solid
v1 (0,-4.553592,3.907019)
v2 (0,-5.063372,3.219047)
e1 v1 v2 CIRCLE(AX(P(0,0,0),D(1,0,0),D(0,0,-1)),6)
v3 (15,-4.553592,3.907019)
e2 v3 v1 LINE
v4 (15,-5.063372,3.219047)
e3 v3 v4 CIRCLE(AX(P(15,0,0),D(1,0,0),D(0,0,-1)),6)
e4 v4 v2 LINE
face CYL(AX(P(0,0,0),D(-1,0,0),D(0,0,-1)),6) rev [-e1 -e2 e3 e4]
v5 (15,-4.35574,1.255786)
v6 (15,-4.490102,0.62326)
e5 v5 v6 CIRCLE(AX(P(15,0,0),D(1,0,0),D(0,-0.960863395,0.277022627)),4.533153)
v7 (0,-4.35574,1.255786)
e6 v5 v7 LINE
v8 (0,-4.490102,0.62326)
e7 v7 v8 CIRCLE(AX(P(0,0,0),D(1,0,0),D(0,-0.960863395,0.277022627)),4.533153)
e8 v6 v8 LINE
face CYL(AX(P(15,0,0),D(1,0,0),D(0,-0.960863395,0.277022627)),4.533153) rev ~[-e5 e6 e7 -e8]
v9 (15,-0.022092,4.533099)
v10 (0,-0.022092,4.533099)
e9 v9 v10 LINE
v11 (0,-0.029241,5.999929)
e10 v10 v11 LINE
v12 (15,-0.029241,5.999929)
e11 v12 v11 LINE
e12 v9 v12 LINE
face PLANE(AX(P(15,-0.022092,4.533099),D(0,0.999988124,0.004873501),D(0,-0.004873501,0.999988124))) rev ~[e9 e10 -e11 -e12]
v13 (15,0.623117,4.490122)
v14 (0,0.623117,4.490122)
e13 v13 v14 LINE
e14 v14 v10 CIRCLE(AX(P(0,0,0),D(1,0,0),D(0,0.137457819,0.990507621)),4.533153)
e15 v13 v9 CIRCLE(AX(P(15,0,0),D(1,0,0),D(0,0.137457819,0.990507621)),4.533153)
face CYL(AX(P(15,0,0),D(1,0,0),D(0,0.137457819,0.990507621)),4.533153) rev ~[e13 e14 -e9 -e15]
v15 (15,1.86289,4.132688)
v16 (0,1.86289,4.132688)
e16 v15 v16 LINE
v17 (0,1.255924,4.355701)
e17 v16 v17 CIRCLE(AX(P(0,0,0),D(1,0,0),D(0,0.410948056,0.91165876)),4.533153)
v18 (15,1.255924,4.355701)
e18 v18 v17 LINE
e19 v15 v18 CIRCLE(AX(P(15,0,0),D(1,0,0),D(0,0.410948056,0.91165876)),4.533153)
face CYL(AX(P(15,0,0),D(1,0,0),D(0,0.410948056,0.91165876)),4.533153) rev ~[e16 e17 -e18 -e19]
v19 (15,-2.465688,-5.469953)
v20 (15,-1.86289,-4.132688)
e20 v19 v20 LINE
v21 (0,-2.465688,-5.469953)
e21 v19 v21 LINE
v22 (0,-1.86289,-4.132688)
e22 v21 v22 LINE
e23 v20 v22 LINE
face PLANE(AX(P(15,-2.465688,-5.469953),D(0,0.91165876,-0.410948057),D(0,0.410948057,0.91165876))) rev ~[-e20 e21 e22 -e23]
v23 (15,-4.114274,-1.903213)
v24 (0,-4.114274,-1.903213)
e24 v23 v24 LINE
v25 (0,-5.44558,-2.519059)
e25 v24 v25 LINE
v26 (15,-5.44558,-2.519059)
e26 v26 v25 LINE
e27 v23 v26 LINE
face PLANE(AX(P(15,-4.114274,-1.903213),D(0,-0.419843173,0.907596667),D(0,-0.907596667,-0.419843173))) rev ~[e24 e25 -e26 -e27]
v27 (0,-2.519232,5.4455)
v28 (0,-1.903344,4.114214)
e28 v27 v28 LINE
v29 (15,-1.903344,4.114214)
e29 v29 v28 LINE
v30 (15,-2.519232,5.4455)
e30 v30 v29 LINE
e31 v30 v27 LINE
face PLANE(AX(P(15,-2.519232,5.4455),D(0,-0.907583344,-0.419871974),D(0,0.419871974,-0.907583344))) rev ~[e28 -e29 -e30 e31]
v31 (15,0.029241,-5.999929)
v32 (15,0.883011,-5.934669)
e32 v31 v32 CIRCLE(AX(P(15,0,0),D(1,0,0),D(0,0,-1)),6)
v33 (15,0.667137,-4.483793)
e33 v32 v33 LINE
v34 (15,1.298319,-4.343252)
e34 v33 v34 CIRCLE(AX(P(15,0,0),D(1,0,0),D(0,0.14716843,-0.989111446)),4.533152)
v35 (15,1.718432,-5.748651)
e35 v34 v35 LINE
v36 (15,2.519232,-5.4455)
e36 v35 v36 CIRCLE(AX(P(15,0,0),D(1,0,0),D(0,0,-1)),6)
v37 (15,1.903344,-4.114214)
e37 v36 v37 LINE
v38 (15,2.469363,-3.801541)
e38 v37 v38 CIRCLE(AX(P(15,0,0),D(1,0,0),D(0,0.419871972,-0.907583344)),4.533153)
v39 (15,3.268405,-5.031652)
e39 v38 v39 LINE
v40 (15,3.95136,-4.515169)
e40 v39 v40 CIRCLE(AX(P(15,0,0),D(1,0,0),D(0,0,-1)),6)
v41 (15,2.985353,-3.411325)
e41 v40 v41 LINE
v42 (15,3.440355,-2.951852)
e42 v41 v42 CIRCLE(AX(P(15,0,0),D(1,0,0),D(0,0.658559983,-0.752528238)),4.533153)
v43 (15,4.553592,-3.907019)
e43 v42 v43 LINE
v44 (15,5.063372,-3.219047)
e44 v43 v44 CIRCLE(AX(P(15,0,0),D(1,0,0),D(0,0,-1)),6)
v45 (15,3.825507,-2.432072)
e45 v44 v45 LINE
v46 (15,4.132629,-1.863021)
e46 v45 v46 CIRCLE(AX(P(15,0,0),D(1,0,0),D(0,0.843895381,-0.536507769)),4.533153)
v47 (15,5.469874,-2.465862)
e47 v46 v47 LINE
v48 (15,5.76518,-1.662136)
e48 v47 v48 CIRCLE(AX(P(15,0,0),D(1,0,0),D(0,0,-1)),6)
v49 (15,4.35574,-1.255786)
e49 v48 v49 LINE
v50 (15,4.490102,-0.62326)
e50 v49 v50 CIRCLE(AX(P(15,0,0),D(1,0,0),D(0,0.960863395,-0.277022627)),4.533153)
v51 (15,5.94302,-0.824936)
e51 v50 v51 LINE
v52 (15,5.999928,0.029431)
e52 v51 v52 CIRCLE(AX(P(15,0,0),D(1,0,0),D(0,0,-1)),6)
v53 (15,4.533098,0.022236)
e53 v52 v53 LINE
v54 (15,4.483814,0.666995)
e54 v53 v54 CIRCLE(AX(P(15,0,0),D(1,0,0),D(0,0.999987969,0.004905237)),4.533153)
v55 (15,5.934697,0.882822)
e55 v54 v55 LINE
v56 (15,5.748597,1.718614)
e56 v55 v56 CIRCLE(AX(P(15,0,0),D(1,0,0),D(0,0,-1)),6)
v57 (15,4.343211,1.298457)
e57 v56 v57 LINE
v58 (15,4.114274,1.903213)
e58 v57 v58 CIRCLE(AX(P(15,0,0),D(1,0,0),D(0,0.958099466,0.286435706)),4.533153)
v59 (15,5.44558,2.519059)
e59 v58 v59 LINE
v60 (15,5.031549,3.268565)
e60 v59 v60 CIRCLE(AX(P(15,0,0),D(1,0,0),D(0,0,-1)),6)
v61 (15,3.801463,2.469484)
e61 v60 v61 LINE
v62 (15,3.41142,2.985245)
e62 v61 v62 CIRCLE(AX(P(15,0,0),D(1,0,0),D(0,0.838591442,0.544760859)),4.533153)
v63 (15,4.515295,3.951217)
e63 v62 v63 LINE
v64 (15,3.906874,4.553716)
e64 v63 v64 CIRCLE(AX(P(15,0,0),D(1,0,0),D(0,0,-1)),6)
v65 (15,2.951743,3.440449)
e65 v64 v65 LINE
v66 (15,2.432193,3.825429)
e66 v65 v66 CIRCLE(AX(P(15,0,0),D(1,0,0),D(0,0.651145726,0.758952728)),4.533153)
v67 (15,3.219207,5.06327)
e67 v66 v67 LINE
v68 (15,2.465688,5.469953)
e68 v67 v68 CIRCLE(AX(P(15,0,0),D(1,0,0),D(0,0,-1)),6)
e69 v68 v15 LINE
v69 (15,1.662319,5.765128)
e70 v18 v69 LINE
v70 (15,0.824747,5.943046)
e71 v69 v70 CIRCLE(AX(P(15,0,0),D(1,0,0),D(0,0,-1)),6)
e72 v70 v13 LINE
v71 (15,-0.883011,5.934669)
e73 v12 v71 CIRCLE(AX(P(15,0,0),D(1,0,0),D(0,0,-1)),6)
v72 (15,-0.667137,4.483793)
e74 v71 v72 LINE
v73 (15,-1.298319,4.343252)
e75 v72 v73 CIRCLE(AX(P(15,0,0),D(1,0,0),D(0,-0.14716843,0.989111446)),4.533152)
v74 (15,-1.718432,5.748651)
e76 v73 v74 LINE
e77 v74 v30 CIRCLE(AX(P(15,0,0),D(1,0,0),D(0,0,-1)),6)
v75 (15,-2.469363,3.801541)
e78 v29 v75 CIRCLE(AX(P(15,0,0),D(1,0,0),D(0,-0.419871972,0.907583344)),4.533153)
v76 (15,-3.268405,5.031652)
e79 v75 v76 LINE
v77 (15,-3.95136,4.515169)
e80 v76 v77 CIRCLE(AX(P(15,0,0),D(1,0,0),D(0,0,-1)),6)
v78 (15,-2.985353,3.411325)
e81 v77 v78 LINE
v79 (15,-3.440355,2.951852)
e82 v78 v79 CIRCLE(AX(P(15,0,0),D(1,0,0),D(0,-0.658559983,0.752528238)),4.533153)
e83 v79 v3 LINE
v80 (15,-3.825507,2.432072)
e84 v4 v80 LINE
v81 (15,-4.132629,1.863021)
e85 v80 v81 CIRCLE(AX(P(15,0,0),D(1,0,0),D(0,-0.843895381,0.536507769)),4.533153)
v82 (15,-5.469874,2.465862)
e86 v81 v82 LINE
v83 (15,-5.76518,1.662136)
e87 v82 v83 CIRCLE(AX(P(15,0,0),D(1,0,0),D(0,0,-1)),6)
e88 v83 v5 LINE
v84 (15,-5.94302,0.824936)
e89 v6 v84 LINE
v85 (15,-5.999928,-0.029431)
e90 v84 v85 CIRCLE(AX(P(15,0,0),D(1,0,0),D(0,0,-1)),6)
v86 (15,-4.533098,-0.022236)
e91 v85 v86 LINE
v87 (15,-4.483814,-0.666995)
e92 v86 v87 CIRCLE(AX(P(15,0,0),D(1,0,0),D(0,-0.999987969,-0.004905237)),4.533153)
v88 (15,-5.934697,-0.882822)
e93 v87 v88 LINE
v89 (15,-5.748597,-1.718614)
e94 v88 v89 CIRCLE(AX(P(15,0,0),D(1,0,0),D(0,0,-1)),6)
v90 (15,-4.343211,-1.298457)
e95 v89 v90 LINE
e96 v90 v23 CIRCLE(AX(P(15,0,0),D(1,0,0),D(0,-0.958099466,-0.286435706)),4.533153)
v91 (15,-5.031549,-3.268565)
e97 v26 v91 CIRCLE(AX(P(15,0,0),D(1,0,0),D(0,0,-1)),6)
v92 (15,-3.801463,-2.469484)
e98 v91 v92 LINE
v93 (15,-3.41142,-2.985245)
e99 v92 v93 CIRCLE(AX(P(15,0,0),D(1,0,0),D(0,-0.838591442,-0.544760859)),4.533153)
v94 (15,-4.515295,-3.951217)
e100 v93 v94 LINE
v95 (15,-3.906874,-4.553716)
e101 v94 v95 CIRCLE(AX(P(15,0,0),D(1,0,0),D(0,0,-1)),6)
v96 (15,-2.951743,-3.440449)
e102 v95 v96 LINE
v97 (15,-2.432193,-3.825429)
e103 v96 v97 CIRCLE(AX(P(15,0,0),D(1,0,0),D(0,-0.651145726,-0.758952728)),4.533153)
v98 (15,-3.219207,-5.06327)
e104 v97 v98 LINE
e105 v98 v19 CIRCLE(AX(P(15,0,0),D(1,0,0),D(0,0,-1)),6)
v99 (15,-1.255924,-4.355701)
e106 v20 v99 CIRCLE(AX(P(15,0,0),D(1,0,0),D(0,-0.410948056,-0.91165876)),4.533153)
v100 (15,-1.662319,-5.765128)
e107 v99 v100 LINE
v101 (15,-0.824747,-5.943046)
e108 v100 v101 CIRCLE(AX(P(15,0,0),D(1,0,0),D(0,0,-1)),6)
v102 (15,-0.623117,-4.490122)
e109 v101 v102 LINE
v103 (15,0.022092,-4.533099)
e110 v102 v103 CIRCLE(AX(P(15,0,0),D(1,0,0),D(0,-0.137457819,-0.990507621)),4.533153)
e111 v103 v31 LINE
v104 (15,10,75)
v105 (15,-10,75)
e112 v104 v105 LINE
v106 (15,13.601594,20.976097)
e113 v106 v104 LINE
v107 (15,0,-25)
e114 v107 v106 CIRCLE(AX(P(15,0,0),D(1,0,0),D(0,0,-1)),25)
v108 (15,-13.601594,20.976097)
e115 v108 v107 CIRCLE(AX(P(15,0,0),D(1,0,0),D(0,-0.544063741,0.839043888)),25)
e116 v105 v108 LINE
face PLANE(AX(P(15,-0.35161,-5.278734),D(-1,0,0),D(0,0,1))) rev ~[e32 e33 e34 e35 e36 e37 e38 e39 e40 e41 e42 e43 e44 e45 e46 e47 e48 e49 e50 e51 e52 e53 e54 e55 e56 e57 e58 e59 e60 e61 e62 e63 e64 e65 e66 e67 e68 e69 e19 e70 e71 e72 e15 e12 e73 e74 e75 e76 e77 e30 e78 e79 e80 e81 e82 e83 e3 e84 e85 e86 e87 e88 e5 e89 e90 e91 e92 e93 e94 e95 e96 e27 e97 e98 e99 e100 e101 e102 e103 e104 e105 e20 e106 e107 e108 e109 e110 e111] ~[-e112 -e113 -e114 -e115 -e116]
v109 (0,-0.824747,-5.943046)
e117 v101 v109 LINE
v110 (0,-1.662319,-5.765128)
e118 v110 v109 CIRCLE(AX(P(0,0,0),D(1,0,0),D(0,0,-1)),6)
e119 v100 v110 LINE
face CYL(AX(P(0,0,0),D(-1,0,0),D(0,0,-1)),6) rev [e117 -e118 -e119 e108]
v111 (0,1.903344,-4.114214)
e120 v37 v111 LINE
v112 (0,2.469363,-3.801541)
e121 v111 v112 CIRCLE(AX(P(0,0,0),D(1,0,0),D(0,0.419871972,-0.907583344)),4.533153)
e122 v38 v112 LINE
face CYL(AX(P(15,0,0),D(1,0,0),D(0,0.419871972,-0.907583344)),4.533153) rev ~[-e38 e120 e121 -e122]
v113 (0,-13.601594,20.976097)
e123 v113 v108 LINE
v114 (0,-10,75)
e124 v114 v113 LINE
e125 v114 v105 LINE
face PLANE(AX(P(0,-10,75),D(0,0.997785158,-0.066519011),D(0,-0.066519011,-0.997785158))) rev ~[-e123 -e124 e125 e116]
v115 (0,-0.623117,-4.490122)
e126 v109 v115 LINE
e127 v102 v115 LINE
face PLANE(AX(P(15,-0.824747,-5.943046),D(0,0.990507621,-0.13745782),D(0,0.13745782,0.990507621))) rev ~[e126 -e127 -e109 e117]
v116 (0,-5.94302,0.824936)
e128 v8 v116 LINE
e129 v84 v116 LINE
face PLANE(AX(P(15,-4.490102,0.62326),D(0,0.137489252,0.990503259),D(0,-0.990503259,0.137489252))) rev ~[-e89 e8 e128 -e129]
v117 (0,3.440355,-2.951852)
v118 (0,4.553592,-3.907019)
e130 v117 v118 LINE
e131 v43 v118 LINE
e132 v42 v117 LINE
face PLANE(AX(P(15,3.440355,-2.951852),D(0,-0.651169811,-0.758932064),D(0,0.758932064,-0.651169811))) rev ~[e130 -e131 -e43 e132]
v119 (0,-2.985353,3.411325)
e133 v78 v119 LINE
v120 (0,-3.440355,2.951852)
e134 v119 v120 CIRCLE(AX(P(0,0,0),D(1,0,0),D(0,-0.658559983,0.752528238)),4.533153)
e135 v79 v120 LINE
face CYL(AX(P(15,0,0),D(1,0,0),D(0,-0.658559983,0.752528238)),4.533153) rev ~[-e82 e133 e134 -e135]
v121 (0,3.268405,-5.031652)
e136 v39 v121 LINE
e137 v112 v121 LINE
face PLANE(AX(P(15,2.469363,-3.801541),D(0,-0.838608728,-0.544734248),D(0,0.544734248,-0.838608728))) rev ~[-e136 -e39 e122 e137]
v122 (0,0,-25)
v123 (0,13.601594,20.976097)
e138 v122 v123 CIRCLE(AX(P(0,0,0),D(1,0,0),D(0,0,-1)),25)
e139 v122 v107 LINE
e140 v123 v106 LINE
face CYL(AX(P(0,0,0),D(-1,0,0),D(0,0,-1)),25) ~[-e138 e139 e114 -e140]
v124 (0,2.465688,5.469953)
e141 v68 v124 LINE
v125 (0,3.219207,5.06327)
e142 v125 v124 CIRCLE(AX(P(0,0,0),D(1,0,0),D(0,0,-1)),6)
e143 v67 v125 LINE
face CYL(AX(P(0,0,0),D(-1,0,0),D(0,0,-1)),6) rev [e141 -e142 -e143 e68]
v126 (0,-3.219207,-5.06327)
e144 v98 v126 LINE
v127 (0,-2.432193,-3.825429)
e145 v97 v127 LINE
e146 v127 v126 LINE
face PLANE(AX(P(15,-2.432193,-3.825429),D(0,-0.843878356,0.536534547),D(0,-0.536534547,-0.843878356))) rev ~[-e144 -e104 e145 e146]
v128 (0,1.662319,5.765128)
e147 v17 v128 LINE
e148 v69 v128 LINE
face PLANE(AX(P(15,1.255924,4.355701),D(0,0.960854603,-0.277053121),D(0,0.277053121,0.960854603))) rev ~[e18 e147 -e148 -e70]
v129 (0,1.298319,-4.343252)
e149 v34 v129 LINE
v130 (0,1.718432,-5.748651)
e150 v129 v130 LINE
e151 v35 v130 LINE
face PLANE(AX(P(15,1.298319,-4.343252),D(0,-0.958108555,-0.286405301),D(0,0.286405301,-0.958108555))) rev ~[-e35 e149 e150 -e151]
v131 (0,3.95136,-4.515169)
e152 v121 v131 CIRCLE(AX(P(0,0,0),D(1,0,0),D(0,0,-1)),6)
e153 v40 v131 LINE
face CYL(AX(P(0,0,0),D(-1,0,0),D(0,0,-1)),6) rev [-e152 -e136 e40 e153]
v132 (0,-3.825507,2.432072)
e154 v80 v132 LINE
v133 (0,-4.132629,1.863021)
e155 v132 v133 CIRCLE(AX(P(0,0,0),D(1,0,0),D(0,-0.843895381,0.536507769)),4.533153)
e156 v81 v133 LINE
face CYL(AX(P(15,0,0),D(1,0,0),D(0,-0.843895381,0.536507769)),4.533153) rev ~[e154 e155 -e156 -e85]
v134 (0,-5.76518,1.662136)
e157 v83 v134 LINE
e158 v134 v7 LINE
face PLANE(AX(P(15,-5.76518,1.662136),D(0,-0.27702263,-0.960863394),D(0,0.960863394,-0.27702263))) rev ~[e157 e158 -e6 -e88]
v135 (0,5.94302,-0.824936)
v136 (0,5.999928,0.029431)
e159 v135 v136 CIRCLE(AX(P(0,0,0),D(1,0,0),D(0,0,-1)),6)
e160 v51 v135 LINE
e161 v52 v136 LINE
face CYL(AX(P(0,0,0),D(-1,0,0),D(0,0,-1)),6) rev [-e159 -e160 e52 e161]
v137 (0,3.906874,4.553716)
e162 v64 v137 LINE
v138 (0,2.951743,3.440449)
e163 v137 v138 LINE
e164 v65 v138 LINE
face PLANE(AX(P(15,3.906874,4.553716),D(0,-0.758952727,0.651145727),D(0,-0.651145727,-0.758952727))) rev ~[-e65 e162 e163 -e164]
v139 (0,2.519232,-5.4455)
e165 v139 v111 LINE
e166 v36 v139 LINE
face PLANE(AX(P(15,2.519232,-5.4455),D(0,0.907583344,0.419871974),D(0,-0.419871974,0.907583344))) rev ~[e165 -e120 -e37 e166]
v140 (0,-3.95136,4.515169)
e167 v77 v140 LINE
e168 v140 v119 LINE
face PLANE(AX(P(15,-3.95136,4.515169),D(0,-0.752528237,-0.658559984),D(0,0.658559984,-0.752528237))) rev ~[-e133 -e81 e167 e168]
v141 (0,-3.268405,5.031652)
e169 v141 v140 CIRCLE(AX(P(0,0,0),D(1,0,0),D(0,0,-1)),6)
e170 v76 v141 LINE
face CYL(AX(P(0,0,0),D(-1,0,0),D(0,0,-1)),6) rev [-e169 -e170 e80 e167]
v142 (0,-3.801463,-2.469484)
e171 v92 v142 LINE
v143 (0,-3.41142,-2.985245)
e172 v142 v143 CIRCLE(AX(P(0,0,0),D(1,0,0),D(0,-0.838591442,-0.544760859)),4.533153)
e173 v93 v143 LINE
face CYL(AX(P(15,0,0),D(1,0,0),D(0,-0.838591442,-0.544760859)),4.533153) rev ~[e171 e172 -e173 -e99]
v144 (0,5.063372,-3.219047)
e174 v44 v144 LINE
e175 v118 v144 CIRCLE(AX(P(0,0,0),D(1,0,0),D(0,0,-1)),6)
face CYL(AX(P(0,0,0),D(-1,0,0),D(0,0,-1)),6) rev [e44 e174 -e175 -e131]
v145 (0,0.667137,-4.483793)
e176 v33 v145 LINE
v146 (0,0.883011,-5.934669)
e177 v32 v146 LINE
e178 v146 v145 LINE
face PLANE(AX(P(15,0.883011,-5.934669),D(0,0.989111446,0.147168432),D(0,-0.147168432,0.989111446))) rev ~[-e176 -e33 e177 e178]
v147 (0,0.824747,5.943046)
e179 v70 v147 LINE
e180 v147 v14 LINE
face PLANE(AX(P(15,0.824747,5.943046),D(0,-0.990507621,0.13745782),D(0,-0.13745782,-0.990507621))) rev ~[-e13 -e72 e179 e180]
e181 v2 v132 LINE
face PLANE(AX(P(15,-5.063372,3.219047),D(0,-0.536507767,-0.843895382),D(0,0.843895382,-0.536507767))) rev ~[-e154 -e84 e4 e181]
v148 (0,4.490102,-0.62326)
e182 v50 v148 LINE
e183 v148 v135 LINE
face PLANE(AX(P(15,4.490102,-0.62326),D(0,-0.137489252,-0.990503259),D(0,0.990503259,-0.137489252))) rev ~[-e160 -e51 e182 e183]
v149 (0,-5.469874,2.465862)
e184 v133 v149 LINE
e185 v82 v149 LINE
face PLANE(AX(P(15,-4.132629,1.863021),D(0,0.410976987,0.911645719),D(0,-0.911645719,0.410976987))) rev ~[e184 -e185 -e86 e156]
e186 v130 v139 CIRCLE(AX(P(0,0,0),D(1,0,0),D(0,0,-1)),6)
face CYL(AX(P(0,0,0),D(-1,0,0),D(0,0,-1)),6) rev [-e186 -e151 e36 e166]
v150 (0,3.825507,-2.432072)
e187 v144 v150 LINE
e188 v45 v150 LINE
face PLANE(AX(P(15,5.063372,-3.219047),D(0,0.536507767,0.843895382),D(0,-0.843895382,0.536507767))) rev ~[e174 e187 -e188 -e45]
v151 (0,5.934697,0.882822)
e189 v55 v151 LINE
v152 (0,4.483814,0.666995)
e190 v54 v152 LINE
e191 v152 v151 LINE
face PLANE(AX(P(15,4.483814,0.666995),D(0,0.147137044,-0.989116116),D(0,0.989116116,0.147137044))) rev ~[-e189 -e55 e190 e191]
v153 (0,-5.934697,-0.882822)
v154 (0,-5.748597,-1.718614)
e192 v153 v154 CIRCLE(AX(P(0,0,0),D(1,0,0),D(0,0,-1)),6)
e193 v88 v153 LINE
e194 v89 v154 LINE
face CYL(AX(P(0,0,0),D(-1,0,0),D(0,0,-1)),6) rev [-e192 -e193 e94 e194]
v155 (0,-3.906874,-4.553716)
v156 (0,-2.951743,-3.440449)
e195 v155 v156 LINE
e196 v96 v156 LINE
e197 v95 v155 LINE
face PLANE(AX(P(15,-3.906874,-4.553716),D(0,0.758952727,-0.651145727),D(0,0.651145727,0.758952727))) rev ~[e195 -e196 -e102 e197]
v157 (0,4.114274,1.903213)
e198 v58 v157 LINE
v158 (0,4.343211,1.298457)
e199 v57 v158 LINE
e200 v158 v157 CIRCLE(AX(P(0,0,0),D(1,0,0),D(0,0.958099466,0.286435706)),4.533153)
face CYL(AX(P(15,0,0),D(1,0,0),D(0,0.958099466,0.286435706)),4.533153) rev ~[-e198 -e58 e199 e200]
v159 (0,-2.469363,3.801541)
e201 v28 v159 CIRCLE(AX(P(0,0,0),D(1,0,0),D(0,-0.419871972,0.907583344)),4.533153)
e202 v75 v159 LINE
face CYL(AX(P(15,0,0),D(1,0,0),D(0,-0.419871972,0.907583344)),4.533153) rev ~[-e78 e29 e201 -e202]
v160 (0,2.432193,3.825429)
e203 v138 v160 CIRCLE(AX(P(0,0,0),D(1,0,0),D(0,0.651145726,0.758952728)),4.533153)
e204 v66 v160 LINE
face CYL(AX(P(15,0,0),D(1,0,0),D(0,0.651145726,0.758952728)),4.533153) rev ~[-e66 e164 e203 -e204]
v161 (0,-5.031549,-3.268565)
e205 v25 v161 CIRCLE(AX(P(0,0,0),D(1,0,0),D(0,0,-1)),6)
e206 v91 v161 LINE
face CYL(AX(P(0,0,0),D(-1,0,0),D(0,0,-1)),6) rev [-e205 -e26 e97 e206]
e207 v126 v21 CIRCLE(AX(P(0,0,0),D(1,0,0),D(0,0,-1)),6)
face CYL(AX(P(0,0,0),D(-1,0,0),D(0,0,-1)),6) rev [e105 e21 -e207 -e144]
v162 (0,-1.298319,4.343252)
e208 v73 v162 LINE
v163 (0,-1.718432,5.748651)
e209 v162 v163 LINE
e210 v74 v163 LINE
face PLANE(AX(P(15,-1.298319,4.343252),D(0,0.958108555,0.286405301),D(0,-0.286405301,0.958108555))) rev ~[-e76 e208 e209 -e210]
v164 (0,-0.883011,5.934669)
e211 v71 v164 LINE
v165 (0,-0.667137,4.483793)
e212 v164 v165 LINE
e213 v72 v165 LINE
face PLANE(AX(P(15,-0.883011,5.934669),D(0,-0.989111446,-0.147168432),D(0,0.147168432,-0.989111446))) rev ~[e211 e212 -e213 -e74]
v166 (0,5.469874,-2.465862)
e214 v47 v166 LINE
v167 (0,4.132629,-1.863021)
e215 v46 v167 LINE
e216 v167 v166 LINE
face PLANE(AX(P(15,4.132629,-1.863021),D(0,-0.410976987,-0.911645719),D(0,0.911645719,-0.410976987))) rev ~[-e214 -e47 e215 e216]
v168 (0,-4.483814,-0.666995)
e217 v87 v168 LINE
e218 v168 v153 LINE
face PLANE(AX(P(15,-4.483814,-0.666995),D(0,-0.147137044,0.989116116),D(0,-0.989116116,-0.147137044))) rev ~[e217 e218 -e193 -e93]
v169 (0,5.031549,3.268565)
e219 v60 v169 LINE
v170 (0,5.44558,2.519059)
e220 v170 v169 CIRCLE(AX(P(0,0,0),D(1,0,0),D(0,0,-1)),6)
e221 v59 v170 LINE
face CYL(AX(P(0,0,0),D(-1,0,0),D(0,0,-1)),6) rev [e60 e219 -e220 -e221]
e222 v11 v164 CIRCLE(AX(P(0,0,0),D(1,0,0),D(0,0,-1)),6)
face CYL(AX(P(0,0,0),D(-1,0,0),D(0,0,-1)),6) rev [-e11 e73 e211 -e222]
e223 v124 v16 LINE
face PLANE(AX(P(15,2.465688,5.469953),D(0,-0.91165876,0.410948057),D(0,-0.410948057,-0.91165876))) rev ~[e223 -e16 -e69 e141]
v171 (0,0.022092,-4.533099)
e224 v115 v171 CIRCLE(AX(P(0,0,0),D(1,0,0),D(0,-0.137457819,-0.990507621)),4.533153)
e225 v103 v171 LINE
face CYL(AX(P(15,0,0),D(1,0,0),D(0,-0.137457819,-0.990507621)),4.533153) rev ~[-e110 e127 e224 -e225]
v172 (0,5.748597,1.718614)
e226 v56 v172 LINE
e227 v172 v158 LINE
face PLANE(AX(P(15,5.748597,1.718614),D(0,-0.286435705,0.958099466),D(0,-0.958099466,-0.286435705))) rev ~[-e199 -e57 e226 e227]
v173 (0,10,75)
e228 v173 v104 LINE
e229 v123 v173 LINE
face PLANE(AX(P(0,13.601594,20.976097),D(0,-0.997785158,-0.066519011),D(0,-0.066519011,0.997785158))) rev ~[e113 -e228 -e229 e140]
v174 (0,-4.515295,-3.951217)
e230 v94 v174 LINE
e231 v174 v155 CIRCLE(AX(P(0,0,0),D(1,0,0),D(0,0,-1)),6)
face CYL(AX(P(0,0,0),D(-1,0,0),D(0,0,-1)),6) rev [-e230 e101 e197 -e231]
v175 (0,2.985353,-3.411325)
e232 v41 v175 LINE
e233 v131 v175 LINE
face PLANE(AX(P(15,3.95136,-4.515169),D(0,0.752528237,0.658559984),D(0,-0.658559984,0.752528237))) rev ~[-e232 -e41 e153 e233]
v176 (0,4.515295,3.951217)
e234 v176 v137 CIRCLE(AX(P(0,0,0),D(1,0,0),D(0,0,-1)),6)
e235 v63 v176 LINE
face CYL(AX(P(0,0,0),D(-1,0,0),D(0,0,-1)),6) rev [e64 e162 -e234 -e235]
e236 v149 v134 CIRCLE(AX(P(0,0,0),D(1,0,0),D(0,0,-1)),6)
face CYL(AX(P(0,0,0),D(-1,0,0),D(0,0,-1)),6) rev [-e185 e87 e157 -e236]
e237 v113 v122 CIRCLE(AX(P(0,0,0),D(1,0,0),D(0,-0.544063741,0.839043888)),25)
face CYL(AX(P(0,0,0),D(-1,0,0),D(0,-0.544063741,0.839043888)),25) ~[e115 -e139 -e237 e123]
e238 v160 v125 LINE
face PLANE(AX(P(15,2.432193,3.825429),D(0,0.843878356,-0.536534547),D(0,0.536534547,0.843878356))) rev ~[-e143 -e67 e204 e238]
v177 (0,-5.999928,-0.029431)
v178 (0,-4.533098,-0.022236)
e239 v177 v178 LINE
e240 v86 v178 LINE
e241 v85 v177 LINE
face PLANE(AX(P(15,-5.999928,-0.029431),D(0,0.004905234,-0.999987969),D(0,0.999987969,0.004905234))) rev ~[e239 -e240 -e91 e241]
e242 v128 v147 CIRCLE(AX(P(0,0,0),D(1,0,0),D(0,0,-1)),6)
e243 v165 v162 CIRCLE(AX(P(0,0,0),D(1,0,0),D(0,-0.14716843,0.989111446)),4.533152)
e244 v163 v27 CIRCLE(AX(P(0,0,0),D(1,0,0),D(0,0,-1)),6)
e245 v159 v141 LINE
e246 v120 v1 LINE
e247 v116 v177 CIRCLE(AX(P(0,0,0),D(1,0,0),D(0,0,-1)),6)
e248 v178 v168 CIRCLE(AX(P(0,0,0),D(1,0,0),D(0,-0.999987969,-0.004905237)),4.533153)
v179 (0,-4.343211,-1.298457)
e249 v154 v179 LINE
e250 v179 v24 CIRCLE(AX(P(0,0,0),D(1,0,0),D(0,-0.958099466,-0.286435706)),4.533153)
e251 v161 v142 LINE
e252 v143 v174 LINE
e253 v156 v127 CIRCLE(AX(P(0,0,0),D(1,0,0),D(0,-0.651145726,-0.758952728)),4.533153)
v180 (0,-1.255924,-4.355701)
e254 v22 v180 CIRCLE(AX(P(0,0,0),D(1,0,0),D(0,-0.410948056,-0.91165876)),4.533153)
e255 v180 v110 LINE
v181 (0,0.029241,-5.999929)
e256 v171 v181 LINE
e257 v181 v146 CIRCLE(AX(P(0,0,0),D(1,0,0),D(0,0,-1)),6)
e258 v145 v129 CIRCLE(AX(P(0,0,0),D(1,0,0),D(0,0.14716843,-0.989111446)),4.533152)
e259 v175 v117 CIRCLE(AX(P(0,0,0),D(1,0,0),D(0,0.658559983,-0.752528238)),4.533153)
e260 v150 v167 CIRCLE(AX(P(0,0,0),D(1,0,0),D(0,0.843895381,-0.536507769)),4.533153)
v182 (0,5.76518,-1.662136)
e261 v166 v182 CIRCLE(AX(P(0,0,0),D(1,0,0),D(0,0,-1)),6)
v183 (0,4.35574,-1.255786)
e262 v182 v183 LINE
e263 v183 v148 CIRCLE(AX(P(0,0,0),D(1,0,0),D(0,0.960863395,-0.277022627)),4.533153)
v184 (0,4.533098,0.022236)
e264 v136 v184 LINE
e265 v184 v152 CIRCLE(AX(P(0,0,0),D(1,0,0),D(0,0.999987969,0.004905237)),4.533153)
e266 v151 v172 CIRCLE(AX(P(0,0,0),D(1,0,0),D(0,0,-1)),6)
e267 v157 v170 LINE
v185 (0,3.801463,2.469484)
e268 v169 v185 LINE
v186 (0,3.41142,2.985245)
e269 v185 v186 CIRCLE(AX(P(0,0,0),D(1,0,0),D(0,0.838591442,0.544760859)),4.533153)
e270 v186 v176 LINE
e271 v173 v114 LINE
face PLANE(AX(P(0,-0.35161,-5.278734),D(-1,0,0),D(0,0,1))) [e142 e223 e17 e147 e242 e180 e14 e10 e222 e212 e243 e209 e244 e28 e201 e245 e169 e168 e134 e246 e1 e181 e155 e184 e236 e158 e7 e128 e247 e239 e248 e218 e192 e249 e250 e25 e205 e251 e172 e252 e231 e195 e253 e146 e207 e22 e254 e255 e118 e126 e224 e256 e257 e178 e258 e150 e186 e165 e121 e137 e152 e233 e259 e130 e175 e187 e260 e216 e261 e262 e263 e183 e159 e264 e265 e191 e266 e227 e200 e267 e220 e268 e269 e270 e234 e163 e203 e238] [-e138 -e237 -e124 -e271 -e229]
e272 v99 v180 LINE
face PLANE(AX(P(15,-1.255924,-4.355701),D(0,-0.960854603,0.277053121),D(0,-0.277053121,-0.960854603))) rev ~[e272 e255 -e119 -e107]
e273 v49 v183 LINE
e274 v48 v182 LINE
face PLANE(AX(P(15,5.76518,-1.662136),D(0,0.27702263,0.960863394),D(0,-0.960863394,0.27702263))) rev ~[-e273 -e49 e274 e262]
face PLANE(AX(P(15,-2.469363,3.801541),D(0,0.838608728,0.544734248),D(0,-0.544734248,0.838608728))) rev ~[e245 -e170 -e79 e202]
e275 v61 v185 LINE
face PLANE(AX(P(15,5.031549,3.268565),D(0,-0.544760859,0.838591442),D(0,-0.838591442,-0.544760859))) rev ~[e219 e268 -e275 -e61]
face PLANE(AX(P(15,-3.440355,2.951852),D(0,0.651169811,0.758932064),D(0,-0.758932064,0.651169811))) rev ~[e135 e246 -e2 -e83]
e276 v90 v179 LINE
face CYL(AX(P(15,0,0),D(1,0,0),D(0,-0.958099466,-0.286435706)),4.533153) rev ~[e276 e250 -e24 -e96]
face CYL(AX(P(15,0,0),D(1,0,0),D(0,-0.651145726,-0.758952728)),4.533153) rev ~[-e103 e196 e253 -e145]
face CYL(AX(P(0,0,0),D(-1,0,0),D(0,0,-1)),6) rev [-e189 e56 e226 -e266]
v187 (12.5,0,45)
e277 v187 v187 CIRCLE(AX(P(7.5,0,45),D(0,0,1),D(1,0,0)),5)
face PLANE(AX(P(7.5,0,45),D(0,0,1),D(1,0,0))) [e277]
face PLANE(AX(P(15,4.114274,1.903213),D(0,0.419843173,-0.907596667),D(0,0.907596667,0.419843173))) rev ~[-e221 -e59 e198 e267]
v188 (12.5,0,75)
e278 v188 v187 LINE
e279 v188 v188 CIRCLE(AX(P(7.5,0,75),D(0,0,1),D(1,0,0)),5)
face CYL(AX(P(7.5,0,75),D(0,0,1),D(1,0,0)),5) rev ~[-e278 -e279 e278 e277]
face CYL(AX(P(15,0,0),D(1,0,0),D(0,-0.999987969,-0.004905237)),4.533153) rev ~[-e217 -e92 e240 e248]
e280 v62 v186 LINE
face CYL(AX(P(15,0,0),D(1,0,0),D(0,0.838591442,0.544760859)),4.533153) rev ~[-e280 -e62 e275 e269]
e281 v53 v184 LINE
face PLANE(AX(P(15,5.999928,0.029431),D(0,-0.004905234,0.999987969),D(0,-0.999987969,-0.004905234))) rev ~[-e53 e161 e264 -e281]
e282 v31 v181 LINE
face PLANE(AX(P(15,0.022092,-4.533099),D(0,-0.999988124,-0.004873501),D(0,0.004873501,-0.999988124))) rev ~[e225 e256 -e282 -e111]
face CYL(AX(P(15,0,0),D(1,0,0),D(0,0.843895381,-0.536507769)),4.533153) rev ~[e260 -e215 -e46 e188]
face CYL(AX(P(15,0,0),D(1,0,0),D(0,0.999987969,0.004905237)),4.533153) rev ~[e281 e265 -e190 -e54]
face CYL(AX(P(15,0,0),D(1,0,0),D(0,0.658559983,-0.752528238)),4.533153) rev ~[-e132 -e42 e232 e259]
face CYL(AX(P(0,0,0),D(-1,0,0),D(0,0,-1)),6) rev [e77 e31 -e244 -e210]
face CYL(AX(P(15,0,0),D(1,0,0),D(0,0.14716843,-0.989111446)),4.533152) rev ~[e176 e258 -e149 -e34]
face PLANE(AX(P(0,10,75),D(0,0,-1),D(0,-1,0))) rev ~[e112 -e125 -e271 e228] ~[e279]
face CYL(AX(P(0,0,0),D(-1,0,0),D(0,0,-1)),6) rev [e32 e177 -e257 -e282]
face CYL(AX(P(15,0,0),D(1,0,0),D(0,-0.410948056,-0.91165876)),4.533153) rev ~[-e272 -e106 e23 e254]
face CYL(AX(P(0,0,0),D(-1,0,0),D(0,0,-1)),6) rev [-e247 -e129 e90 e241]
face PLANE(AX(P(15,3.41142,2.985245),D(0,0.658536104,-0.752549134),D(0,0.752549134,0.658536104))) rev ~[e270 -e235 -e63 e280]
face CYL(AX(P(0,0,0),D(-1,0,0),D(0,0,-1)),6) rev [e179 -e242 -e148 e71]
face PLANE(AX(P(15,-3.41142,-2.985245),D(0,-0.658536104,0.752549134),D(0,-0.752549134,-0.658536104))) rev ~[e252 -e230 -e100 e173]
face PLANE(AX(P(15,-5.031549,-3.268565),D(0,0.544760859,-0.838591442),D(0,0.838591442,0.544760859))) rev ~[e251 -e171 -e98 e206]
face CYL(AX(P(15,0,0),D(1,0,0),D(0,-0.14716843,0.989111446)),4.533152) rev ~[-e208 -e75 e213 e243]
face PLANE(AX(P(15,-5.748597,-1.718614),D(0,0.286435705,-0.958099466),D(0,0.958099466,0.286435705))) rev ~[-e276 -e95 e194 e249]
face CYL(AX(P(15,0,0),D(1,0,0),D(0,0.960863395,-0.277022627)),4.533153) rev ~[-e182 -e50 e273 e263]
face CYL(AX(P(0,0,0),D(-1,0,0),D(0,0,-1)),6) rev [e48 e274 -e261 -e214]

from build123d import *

# Parameters (mm, degrees)
SKETCH1_R           = 6
BOSS_EXTRUDE1_DEPTH = 15
SKETCH2_R           = 5
CUT_EXTRUDE1_DEPTH  = 30
BOSS_EXTRUDE2_DEPTH = 15


with BuildPart() as part:
    # Sketch1 → Boss-Extrude1 (new body)
    with BuildSketch(Plane(origin=(0, 0, 0), x_dir=(0, 0, -1), z_dir=(1, 0, 0))):
        with BuildLine():
            ThreePointArc((25, 0), (7.092163634, 23.972926709), (-20.976097199, 13.60159352))
            ThreePointArc((-20.976097199, 13.60159352), (-25, 0), (-20.976097199, -13.60159352))
            ThreePointArc((-20.976097199, -13.60159352), (7.092163634, -23.972926709), (25, 0))
        make_face()
        Circle(SKETCH1_R, mode=Mode.SUBTRACT)
        with BuildLine():
            ThreePointArc((-20.976097199, -13.60159352), (-25, 0), (-20.976097199, 13.60159352))
            Line((-20.976097199, 13.60159352), (-75, 10))
            Line((-75, 10), (-75, -10))
            Line((-75, -10), (-20.976097199, -13.60159352))
        make_face()
    extrude(amount=BOSS_EXTRUDE1_DEPTH)

    # Sketch2 → Cut-Extrude1 (cut)
    with BuildSketch(Plane.XY.offset(75)):
        with Locations((7.5, 0)):
            Circle(SKETCH2_R)
    extrude(amount=-CUT_EXTRUDE1_DEPTH, mode=Mode.SUBTRACT)

    # Sketch4 → Boss-Extrude2 (add)
    with BuildSketch(Plane(origin=(15, 0, 0), x_dir=(0, 0, -1), z_dir=(1, 0, 0))):
        with BuildLine():
            Line((0.623259764, 4.490102446), (0.824935512, 5.943019552))
            ThreePointArc((0.824935512, 5.943019552), (1.24671071, 5.869046976), (1.662135778, 5.765180366))
            Line((1.662135778, 5.765180366), (1.25578586, 4.355740418))
            ThreePointArc((1.25578586, 4.355740418), (0.941921654, 4.434214283), (0.623259764, 4.490102446))
        make_face()
        with BuildLine():
            Line((1.863021407, 4.132629181), (2.465861922, 5.469874312))
            ThreePointArc((2.465861922, 5.469874312), (2.849711777, 5.280070339), (3.219046605, 5.063372291))
            Line((3.219046605, 5.063372291), (2.432071594, 3.825506564))
            ThreePointArc((2.432071594, 3.825506564), (2.153029737, 3.989227452), (1.863021407, 4.132629181))
        make_face()
        with BuildLine():
            Line((2.951852135, 3.440354878), (3.907018863, 4.553592384))
            ThreePointArc((3.907018863, 4.553592384), (4.221846144, 4.263333806), (4.515169421, 3.951359905))
            Line((4.515169421, 3.951359905), (3.411325351, 2.98535292))
            ThreePointArc((3.411325351, 2.98535292), (3.189712154, 3.221057138), (2.951852135, 3.440354878))
        make_face()
        with BuildLine():
            Line((3.801541359, 2.469363482), (5.031652372, 3.268405484))
            ThreePointArc((5.031652372, 3.268405484), (5.251951644, 2.901207322), (5.445500063, 2.51923184))
            Line((5.445500063, 2.51923184), (4.114213817, 1.903343737))
            ThreePointArc((4.114213817, 1.903343737), (3.967983063, 2.191935931), (3.801541359, 2.469363482))
        make_face()
        with BuildLine():
            Line((4.34325231, 1.298318944), (5.74865133, 1.718431809))
            ThreePointArc((5.74865133, 1.718431809), (5.856575257, 1.304042275), (5.934668676, 0.883010593))
            Line((5.934668676, 0.883010593), (4.483793147, 0.667136964))
            ThreePointArc((4.483793147, 0.667136964), (4.424791583, 0.98523711), (4.34325231, 1.298318944))
        make_face()
        with BuildLine():
            Line((4.53309879, 0.022092326), (5.999928747, 0.029241008))
            ThreePointArc((5.999928747, 0.029241008), (5.986733973, -0.398768521), (5.943045727, -0.82474692))
            Line((5.943045727, -0.82474692), (4.490122222, -0.623117278))
            ThreePointArc((4.490122222, -0.623117278), (4.523129803, -0.301279761), (4.53309879, 0.022092326))
        make_face()
        with BuildLine():
            Line((4.355700565, -1.255924081), (5.765127618, -1.662318725))
            ThreePointArc((5.765127618, -1.662318725), (5.631883107, -2.069273464), (5.469952559, -2.465688343))
            Line((5.469952559, -2.465688343), (4.132688299, -1.862890264))
            ThreePointArc((4.132688299, -1.862890264), (4.255030947, -1.563388739), (4.355700565, -1.255924081))
        make_face()
        with BuildLine():
            Line((3.825429385, -2.432192989), (5.063270137, -3.219207281))
            ThreePointArc((5.063270137, -3.219207281), (4.820770566, -3.572138177), (4.553716365, -3.906874361))
            Line((4.553716365, -3.906874361), (3.440448548, -2.95174296))
            ThreePointArc((3.440448548, -2.95174296), (3.64221479, -2.698841258), (3.825429385, -2.432192989))
        make_face()
        with BuildLine():
            Line((2.985244666, -3.411420085), (3.951216622, -4.515294808))
            ThreePointArc((3.951216622, -4.515294808), (3.619107863, -4.785609499), (3.268565153, -5.031548652))
            Line((3.268565153, -5.031548652), (2.469484116, -3.801462996))
            ThreePointArc((2.469484116, -3.801462996), (2.734328051, -3.615649709), (2.985244666, -3.411420085))
        make_face()
        with BuildLine():
            Line((1.903213179, -4.114274214), (2.519059035, -5.445580004))
            ThreePointArc((2.519059035, -5.445580004), (2.124246566, -5.6113792), (1.718614231, -5.748596796))
            Line((1.718614231, -5.748596796), (1.298456769, -4.343211108))
            ThreePointArc((1.298456769, -4.343211108), (1.604922315, -4.239539724), (1.903213179, -4.114274214))
        make_face()
        with BuildLine():
            Line((0.666994679, -4.483814315), (0.882822266, -5.934696694))
            ThreePointArc((0.882822266, -5.934696694), (0.457291444, -5.982548331), (0.029431406, -5.999927816))
            Line((0.029431406, -5.999927816), (0.022236176, -4.533098087))
            ThreePointArc((0.022236176, -4.533098087), (0.345495319, -4.519967444), (0.666994679, -4.483814315))
        make_face()
        with BuildLine():
            Line((-0.623259764, -4.490102446), (-0.824935512, -5.943019552))
            ThreePointArc((-0.824935512, -5.943019552), (-1.24671071, -5.869046976), (-1.662135778, -5.765180366))
            Line((-1.662135778, -5.765180366), (-1.25578586, -4.355740418))
            ThreePointArc((-1.25578586, -4.355740418), (-0.941921654, -4.434214283), (-0.623259764, -4.490102446))
        make_face()
        with BuildLine():
            Line((-1.863021407, -4.132629181), (-2.465861922, -5.469874312))
            ThreePointArc((-2.465861922, -5.469874312), (-2.849711777, -5.280070339), (-3.219046605, -5.063372291))
            Line((-3.219046605, -5.063372291), (-2.432071594, -3.825506564))
            ThreePointArc((-2.432071594, -3.825506564), (-2.153029737, -3.989227452), (-1.863021407, -4.132629181))
        make_face()
        with BuildLine():
            Line((-2.951852135, -3.440354878), (-3.907018863, -4.553592384))
            ThreePointArc((-3.907018863, -4.553592384), (-4.221846144, -4.263333806), (-4.515169421, -3.951359905))
            Line((-4.515169421, -3.951359905), (-3.411325351, -2.98535292))
            ThreePointArc((-3.411325351, -2.98535292), (-3.189712154, -3.221057138), (-2.951852135, -3.440354878))
        make_face()
        with BuildLine():
            Line((-3.801541359, -2.469363482), (-5.031652372, -3.268405484))
            ThreePointArc((-5.031652372, -3.268405484), (-5.251951644, -2.901207322), (-5.445500063, -2.51923184))
            Line((-5.445500063, -2.51923184), (-4.114213817, -1.903343737))
            ThreePointArc((-4.114213817, -1.903343737), (-3.967983063, -2.191935931), (-3.801541359, -2.469363482))
        make_face()
        with BuildLine():
            Line((-4.34325231, -1.298318944), (-5.74865133, -1.718431809))
            ThreePointArc((-5.74865133, -1.718431809), (-5.856575257, -1.304042275), (-5.934668676, -0.883010593))
            Line((-5.934668676, -0.883010593), (-4.483793147, -0.667136964))
            ThreePointArc((-4.483793147, -0.667136964), (-4.424791583, -0.98523711), (-4.34325231, -1.298318944))
        make_face()
        with BuildLine():
            Line((-4.53309879, -0.022092326), (-5.999928747, -0.029241008))
            ThreePointArc((-5.999928747, -0.029241008), (-5.986733973, 0.398768521), (-5.943045727, 0.82474692))
            Line((-5.943045727, 0.82474692), (-4.490122222, 0.623117278))
            ThreePointArc((-4.490122222, 0.623117278), (-4.523129803, 0.301279761), (-4.53309879, -0.022092326))
        make_face()
        with BuildLine():
            Line((-4.355700565, 1.255924081), (-5.765127618, 1.662318725))
            ThreePointArc((-5.765127618, 1.662318725), (-5.631883107, 2.069273464), (-5.469952559, 2.465688343))
            Line((-5.469952559, 2.465688343), (-4.132688299, 1.862890264))
            ThreePointArc((-4.132688299, 1.862890264), (-4.255030947, 1.563388739), (-4.355700565, 1.255924081))
        make_face()
        with BuildLine():
            Line((-3.825429385, 2.432192989), (-5.063270137, 3.219207281))
            ThreePointArc((-5.063270137, 3.219207281), (-4.820770566, 3.572138177), (-4.553716365, 3.906874361))
            Line((-4.553716365, 3.906874361), (-3.440448548, 2.95174296))
            ThreePointArc((-3.440448548, 2.95174296), (-3.64221479, 2.698841258), (-3.825429385, 2.432192989))
        make_face()
        with BuildLine():
            Line((-2.985244666, 3.411420085), (-3.951216622, 4.515294808))
            ThreePointArc((-3.951216622, 4.515294808), (-3.619107863, 4.785609499), (-3.268565153, 5.031548652))
            Line((-3.268565153, 5.031548652), (-2.469484116, 3.801462996))
            ThreePointArc((-2.469484116, 3.801462996), (-2.734328051, 3.615649709), (-2.985244666, 3.411420085))
        make_face()
        with BuildLine():
            Line((-1.903213179, 4.114274214), (-2.519059035, 5.445580004))
            ThreePointArc((-2.519059035, 5.445580004), (-2.124246566, 5.6113792), (-1.718614231, 5.748596796))
            Line((-1.718614231, 5.748596796), (-1.298456769, 4.343211108))
            ThreePointArc((-1.298456769, 4.343211108), (-1.604922315, 4.239539724), (-1.903213179, 4.114274214))
        make_face()
        with BuildLine():
            Line((-0.666994679, 4.483814315), (-0.882822266, 5.934696694))
            ThreePointArc((-0.882822266, 5.934696694), (-0.457291444, 5.982548331), (-0.029431406, 5.999927816))
            Line((-0.029431406, 5.999927816), (-0.022236176, 4.533098087))
            ThreePointArc((-0.022236176, 4.533098087), (-0.345495319, 4.519967444), (-0.666994679, 4.483814315))
        make_face()
    extrude(amount=-BOSS_EXTRUDE2_DEPTH)


solid = part.part
